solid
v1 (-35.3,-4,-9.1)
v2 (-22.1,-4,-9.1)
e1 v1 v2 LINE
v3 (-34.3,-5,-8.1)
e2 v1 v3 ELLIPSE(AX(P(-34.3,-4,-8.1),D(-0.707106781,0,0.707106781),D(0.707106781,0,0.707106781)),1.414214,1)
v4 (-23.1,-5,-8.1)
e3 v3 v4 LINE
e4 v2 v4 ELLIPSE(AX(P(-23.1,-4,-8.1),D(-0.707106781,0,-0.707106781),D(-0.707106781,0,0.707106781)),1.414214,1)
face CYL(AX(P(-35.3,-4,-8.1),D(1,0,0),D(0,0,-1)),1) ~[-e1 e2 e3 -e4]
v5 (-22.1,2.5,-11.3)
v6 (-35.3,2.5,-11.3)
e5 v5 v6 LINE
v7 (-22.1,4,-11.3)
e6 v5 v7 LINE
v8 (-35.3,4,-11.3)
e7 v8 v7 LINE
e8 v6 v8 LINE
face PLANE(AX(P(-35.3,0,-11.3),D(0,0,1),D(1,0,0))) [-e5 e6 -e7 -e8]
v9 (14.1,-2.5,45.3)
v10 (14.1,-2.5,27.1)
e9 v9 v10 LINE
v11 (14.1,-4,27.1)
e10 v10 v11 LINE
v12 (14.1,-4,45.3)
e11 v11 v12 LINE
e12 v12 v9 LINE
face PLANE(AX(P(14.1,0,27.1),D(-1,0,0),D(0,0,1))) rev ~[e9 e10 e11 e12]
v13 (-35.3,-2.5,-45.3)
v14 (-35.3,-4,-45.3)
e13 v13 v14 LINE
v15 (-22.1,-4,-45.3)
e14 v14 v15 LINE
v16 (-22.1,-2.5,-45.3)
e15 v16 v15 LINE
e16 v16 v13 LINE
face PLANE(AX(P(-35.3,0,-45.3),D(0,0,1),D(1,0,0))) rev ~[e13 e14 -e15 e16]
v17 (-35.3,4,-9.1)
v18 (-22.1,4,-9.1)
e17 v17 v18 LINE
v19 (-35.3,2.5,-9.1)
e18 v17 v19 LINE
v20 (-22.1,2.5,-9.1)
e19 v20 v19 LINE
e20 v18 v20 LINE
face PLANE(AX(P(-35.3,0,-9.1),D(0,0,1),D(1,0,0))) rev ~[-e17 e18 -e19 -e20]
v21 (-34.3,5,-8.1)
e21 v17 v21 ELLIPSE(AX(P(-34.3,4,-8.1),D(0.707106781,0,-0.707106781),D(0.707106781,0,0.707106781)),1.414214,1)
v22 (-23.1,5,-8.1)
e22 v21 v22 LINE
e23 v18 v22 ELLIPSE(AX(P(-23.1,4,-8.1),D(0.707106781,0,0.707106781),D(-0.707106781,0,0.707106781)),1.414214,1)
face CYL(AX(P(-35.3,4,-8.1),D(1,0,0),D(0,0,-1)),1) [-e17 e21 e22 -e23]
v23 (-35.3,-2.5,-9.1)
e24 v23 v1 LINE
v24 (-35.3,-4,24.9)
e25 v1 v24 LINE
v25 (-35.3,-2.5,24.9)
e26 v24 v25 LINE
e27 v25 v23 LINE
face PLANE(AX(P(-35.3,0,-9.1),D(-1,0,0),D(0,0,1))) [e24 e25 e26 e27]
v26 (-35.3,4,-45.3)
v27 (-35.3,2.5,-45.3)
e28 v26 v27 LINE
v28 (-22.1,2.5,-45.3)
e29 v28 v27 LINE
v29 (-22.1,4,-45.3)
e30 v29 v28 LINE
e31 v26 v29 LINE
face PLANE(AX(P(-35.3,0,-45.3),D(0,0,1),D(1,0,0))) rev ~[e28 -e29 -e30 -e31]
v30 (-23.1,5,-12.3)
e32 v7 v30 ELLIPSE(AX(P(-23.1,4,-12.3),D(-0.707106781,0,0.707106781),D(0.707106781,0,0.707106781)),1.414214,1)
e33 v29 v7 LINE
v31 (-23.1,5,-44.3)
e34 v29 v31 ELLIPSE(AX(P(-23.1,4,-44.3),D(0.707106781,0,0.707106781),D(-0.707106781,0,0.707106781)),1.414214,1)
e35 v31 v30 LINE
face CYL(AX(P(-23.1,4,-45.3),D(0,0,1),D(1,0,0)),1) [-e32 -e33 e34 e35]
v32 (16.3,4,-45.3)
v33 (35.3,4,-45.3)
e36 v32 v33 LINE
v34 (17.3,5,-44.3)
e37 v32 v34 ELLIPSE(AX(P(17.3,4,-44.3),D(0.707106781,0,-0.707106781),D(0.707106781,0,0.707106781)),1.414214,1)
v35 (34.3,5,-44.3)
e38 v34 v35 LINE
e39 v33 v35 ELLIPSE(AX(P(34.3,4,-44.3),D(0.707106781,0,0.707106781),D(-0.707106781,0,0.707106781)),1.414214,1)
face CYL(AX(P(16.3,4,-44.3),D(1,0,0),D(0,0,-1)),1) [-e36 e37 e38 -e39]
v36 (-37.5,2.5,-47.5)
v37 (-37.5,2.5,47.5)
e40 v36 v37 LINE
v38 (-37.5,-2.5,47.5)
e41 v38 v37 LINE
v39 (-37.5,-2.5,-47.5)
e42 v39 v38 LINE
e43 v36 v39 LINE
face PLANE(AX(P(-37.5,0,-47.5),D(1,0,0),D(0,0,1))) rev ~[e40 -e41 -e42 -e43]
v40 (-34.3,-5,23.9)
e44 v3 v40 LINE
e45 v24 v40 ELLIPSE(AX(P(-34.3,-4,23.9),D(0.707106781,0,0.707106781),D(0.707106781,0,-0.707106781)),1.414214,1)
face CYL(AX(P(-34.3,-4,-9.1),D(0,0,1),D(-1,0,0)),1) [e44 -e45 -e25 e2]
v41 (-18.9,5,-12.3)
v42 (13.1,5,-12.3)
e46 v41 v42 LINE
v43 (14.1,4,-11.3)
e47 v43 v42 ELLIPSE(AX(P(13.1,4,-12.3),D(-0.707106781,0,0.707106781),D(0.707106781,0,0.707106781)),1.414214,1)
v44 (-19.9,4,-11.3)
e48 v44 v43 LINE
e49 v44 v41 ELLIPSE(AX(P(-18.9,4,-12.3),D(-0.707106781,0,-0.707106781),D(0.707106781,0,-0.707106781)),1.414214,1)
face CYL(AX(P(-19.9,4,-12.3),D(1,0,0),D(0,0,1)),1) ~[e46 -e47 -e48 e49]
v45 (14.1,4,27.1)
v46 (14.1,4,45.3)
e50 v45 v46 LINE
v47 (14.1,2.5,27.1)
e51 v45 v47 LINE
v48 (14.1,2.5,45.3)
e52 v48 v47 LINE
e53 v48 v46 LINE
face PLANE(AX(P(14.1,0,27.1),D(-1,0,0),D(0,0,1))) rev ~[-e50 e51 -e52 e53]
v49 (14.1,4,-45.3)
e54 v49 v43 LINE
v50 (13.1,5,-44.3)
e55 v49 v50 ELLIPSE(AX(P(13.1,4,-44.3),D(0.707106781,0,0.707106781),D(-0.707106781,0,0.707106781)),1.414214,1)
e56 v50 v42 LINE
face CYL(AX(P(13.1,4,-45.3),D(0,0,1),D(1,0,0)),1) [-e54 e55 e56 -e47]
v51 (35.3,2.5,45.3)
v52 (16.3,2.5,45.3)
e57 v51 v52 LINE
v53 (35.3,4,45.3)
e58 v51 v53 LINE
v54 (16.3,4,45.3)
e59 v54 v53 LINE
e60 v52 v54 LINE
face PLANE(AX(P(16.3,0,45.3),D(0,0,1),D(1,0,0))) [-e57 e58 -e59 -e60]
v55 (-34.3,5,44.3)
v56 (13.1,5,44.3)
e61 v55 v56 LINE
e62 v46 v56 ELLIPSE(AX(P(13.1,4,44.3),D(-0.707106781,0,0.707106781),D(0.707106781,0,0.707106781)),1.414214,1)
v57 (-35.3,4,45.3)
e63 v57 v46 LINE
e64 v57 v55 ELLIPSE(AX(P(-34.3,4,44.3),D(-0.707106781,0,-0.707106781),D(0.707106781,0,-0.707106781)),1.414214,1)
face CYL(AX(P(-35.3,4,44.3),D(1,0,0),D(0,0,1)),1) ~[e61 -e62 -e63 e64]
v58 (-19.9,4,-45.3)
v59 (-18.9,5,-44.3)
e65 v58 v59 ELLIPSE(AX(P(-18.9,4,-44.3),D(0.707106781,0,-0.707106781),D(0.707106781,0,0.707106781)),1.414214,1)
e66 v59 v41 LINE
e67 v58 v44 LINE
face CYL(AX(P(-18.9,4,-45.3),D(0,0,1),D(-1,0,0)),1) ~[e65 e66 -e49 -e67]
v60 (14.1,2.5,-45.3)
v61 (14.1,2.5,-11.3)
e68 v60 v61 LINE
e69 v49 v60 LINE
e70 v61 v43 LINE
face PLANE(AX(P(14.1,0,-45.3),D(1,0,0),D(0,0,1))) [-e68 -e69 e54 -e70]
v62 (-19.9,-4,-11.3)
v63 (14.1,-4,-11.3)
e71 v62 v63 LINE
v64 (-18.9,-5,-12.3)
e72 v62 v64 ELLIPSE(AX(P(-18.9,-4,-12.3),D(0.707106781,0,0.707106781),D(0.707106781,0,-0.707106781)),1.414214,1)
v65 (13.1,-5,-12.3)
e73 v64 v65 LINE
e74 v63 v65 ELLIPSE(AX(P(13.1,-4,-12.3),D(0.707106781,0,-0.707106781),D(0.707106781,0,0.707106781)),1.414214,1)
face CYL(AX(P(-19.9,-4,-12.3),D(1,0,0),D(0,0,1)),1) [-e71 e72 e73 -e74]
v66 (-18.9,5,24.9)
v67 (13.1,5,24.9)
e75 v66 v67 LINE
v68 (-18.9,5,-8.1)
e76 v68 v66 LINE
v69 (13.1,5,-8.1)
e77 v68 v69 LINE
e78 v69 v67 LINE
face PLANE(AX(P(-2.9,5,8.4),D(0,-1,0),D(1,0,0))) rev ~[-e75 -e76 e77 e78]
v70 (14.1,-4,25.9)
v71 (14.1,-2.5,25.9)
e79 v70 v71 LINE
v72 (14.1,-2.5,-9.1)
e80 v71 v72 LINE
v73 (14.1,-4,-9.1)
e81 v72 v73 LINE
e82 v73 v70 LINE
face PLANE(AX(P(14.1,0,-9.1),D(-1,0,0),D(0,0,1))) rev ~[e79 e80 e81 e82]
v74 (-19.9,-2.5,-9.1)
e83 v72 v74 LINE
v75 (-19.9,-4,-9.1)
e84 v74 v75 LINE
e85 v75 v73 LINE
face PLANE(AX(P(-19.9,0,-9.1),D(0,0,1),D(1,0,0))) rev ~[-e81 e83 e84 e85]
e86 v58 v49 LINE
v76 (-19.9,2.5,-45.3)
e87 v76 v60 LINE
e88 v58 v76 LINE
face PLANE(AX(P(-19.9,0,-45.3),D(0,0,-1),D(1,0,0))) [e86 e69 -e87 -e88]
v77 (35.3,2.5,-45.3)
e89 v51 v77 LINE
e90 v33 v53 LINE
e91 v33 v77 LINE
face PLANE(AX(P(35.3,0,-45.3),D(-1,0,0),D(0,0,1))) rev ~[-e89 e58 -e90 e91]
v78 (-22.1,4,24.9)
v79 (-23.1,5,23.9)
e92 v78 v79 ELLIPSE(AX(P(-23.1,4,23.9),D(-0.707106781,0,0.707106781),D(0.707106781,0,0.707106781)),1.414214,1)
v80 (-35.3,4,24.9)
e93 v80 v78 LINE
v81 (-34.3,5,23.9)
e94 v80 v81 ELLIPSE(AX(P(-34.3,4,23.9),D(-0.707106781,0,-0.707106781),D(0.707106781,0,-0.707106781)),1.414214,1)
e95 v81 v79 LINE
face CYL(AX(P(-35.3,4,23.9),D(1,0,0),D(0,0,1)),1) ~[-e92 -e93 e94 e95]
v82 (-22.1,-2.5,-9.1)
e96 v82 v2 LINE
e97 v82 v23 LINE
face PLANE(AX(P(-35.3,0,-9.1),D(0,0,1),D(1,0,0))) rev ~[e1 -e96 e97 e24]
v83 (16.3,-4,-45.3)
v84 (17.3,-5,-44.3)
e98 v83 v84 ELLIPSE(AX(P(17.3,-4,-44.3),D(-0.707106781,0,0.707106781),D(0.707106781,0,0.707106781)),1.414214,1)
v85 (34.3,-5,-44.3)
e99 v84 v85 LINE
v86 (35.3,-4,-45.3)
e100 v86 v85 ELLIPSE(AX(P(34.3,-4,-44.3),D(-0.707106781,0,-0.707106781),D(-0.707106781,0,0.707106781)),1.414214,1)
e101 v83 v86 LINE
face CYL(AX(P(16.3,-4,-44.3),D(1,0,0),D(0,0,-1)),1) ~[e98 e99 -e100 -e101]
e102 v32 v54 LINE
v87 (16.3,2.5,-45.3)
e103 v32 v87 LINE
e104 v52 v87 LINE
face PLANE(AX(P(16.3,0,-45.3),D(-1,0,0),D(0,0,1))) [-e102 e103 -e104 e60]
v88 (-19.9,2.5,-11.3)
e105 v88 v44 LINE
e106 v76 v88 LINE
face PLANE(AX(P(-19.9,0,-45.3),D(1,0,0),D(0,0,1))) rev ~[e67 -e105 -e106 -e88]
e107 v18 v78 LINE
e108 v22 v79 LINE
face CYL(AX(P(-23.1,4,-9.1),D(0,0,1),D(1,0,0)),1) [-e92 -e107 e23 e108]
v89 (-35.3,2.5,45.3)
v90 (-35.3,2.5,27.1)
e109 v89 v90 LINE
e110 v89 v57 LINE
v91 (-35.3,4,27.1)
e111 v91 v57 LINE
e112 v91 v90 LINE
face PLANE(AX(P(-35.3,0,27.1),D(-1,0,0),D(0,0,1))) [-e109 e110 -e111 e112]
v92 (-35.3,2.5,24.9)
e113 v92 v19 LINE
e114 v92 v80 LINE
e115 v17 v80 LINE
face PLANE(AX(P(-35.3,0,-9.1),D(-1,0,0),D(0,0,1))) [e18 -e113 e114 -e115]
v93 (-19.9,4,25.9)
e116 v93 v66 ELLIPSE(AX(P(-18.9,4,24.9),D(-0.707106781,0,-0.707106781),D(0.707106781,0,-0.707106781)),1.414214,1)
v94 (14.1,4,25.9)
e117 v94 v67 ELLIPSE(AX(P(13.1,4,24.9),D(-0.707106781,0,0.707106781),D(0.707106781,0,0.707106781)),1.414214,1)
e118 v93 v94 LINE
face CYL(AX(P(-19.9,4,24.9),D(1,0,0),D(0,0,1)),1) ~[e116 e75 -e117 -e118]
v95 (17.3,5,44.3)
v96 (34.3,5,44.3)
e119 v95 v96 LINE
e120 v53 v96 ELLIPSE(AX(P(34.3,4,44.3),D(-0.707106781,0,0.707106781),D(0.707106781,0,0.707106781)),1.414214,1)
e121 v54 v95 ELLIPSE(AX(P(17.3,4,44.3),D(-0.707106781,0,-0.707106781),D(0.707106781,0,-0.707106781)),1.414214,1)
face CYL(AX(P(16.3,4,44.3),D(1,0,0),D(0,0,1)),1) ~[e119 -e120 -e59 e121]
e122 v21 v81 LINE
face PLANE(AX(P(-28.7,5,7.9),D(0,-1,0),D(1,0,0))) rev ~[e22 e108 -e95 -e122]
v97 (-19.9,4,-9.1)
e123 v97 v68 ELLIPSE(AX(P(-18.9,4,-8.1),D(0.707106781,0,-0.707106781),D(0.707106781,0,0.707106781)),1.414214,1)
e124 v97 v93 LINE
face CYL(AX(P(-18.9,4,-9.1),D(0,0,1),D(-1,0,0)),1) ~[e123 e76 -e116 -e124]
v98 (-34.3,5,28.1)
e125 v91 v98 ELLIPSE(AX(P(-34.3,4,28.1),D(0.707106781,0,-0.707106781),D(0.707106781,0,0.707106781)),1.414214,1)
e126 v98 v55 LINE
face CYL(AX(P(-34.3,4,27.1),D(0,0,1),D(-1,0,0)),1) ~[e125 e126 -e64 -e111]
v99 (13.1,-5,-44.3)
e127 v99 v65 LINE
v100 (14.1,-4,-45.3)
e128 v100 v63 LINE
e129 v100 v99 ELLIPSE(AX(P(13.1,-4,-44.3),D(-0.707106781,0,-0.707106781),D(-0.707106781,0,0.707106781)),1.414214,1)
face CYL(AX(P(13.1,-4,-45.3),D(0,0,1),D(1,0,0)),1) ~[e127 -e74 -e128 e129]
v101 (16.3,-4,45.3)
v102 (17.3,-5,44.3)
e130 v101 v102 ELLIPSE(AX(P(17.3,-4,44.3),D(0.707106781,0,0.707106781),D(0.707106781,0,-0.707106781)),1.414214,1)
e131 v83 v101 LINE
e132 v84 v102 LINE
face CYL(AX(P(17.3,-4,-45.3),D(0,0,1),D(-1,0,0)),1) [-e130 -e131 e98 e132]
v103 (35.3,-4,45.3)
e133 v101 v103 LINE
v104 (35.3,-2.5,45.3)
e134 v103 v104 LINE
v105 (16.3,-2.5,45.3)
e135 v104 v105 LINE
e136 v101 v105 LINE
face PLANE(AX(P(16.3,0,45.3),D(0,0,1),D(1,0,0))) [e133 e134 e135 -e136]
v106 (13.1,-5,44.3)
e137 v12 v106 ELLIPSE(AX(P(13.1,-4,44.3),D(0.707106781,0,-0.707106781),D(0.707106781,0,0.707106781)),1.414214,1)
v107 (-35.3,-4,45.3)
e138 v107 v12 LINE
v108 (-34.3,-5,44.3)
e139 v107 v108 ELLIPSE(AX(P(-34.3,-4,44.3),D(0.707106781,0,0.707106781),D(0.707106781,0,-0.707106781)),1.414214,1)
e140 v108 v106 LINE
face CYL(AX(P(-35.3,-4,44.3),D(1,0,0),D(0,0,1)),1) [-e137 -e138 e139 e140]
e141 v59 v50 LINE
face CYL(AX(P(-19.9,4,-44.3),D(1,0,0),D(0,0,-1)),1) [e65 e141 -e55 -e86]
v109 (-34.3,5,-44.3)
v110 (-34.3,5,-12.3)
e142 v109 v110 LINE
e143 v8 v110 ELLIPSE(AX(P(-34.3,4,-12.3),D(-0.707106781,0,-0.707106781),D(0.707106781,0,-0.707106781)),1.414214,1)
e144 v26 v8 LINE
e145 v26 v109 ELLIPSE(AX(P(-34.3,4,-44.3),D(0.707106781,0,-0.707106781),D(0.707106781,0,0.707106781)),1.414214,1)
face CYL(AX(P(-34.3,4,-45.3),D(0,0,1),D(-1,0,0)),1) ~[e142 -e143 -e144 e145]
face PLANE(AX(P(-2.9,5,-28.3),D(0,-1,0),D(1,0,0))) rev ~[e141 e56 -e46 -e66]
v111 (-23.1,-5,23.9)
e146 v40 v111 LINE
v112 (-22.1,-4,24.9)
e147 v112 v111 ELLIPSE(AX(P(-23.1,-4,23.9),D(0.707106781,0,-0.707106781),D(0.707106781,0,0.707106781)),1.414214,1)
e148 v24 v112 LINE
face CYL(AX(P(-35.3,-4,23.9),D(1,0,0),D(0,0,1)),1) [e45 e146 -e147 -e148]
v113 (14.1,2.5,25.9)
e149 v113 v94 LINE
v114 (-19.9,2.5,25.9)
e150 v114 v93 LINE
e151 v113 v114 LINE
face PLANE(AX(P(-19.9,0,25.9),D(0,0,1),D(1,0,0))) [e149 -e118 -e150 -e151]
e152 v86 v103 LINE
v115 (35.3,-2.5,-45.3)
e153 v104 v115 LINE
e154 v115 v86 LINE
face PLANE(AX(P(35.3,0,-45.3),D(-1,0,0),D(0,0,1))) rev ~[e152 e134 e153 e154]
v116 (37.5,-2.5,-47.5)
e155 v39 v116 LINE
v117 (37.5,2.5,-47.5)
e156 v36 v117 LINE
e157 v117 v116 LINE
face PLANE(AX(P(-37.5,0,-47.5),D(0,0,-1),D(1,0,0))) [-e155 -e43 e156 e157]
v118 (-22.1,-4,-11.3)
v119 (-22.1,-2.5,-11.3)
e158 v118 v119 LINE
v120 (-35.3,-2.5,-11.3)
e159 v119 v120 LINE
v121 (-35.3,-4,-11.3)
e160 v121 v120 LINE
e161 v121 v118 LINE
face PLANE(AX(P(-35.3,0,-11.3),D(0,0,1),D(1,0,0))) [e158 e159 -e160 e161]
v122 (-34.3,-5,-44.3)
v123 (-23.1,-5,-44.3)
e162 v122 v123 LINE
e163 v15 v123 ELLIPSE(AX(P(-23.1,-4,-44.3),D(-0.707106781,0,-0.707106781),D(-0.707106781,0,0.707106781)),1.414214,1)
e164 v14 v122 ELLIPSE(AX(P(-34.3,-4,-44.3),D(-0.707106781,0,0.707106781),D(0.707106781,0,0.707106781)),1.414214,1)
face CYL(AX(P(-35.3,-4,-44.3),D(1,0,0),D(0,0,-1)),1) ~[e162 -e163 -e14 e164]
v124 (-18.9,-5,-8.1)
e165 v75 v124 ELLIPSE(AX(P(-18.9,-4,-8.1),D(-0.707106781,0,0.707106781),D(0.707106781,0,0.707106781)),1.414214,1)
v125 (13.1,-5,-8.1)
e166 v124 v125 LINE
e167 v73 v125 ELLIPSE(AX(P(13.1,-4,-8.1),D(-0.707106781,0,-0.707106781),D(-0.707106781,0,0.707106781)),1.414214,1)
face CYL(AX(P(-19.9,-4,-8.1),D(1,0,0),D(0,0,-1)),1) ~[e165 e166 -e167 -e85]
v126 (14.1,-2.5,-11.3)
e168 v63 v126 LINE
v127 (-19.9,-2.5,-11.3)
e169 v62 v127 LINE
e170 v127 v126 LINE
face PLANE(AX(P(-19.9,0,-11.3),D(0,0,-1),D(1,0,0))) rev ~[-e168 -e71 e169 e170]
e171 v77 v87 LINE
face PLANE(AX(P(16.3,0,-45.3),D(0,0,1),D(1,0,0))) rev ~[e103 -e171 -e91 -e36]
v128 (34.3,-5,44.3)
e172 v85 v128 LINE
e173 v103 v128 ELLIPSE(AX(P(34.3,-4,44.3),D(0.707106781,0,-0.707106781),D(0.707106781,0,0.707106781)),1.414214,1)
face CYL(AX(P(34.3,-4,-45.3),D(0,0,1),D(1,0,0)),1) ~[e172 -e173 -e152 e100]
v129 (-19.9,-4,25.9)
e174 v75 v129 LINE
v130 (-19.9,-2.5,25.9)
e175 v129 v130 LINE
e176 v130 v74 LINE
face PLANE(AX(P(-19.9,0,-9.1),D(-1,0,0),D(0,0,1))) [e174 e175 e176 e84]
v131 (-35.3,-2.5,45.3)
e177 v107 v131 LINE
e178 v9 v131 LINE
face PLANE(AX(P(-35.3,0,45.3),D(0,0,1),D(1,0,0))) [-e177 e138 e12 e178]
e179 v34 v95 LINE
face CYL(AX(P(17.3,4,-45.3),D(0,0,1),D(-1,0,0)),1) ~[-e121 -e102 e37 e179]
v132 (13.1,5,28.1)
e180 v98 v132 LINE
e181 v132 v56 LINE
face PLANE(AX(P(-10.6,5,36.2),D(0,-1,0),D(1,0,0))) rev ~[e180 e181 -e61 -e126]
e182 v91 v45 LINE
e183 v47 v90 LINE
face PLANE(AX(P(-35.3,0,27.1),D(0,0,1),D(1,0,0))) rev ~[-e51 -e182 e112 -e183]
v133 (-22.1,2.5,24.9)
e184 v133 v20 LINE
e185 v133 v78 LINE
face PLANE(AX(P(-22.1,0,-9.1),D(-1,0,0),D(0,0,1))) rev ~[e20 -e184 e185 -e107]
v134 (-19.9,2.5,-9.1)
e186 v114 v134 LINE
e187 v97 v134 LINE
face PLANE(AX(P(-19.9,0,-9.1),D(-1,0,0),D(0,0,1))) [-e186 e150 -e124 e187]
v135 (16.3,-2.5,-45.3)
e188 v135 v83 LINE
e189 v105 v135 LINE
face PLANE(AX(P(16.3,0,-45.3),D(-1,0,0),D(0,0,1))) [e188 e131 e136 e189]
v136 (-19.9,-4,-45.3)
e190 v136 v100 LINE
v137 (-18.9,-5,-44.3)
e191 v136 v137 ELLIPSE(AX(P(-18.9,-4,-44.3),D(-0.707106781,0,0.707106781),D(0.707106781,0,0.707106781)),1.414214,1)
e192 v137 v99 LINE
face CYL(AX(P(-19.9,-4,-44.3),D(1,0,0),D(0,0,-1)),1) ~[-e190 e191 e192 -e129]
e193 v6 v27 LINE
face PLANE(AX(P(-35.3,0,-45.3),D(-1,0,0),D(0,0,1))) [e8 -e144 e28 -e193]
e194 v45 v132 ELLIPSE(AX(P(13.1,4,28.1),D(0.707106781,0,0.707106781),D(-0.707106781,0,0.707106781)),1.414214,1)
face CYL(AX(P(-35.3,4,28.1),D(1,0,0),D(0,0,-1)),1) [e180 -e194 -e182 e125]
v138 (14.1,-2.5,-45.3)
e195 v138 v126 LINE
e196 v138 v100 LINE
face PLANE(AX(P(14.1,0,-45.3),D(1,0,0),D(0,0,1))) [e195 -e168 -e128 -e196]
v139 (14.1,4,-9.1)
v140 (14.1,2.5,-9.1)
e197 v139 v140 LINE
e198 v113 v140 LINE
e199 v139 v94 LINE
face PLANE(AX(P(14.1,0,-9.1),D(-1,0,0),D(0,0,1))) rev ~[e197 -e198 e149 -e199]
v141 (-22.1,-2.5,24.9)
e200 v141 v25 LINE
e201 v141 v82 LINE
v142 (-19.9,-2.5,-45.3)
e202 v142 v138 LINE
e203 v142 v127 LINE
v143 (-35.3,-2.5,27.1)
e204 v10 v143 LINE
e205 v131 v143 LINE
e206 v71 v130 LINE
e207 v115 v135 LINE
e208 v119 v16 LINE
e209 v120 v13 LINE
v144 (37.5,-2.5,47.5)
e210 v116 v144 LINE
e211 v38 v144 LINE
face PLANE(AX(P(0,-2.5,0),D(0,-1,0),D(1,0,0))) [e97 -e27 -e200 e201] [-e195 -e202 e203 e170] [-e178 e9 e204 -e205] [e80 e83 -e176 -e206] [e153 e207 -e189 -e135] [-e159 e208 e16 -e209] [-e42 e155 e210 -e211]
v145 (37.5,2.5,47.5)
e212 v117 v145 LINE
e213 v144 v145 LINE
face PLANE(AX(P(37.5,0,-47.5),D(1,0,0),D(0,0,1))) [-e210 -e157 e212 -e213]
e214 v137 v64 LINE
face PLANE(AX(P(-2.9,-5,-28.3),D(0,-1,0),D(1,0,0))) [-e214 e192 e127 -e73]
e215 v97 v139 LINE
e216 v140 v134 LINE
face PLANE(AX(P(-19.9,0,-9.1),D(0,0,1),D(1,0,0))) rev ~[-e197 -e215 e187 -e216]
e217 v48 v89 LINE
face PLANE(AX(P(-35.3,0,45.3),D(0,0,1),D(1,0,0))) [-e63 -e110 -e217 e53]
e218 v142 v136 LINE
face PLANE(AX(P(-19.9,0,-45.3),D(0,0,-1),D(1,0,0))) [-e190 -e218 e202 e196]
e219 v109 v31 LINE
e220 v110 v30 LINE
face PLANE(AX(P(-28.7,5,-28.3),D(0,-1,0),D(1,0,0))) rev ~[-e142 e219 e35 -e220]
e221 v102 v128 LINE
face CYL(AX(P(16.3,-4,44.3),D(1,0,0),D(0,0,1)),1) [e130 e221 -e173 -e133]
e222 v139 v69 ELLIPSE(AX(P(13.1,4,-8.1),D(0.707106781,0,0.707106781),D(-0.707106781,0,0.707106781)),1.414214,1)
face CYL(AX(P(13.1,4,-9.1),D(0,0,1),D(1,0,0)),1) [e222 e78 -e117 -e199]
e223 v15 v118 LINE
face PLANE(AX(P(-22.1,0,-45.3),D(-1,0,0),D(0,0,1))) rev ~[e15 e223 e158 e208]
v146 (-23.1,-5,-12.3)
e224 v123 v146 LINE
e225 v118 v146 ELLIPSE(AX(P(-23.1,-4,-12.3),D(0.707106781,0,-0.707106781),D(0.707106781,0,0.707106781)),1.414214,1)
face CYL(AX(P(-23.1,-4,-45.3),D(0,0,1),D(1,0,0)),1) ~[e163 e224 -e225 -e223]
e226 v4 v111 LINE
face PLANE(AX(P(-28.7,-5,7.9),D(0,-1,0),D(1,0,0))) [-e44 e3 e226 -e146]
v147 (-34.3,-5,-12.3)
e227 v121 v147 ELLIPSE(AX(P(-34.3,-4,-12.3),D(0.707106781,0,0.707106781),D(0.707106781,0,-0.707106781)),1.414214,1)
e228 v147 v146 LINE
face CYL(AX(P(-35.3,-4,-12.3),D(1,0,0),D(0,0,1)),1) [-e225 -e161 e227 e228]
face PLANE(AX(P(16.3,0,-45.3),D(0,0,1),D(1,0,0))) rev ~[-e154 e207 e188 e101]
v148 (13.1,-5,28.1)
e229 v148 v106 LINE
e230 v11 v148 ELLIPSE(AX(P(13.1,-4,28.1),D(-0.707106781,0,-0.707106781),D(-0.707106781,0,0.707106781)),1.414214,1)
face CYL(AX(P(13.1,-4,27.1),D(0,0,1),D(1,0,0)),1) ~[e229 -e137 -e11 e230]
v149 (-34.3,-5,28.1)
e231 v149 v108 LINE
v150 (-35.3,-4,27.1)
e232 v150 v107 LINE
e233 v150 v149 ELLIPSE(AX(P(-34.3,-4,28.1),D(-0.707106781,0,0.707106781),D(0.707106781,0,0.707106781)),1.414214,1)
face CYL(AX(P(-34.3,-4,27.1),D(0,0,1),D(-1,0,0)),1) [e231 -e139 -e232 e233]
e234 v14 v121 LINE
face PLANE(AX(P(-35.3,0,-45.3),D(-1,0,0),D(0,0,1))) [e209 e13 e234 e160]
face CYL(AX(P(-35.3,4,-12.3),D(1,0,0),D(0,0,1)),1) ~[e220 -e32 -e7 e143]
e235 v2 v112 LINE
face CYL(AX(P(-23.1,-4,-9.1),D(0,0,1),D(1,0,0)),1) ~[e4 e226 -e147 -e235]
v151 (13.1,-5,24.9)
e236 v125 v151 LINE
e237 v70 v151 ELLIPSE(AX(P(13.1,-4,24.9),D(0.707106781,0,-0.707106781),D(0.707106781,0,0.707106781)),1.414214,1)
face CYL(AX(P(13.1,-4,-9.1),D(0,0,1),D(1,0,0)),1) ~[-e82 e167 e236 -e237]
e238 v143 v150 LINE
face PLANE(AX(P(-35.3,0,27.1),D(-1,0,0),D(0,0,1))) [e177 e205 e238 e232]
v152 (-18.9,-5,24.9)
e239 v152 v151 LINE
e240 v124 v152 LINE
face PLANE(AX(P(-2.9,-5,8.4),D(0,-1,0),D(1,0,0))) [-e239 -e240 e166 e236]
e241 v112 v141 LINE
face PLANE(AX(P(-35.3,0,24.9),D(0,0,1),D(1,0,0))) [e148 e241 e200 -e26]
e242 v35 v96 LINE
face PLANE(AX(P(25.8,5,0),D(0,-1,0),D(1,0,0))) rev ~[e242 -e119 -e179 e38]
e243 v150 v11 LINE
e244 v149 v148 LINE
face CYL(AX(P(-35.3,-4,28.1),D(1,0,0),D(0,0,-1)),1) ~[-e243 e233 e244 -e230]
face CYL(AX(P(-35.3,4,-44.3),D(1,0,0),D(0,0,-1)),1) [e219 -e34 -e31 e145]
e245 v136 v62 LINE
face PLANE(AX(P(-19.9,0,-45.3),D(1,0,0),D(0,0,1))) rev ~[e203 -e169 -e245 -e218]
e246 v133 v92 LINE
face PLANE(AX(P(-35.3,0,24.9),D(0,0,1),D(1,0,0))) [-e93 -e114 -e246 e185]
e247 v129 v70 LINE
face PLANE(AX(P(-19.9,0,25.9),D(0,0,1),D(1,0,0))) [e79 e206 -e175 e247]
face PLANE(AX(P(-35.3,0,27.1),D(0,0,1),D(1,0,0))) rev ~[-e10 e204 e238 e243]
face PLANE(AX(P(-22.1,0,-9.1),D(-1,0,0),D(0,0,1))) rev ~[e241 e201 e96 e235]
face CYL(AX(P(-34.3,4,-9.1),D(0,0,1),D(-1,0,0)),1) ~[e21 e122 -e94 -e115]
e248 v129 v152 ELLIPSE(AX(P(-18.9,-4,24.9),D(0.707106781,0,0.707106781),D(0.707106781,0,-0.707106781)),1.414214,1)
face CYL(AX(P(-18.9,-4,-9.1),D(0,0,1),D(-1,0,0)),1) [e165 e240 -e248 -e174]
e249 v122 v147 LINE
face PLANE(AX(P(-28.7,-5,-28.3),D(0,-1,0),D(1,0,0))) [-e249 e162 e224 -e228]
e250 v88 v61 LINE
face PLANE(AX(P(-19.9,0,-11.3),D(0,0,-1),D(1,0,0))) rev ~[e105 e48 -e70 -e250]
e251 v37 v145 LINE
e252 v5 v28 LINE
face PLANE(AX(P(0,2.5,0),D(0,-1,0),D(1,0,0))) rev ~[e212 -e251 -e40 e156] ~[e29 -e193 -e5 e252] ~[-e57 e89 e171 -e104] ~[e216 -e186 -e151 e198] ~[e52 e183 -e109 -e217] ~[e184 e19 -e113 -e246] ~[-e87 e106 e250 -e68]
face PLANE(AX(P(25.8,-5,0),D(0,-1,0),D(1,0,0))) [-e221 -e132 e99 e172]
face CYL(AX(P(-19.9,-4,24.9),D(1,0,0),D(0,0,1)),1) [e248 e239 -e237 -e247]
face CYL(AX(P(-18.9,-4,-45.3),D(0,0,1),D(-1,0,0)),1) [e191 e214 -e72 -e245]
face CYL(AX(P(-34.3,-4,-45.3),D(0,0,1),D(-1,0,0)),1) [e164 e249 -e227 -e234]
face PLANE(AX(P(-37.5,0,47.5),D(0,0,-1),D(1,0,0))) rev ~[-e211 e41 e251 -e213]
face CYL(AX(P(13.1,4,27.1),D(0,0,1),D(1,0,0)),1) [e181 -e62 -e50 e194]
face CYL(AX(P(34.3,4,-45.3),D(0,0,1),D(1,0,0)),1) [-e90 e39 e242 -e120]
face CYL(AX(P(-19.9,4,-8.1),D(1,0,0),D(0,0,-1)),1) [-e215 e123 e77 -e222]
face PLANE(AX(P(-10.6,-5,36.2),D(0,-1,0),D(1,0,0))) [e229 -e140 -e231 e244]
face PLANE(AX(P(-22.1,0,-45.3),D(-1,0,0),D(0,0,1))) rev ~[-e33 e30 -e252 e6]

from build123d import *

# Parameters (mm, degrees)
SKETCH014_W   = 75
SKETCH014_H   = 95
PAD009_DEPTH  = 2.5
SKETCH013_W   = 49.4
SKETCH013_H   = 18.2
SKETCH013_W_2 = 19
SKETCH013_H_2 = 90.6
SKETCH013_W_3 = 13.2
SKETCH013_H_3 = 34
SKETCH013_W_4 = 34
SKETCH013_H_4 = 35
PAD010_DEPTH  = 5
FILLET006_R   = 1
FILLET007_R   = 1


with BuildPart() as part:
    # Sketch014 → Pad009 (new body, symmetric)
    with BuildSketch(Plane.XZ):
        Rectangle(SKETCH014_W, SKETCH014_H)
    extrude(amount=PAD009_DEPTH, both=True)

    # Sketch013 → Pad010 (join, symmetric)
    with BuildSketch(Plane.XZ):
        with Locations((-10.6, 36.2)):
            Rectangle(SKETCH013_W, SKETCH013_H)
        with Locations((25.8, 0)):
            Rectangle(SKETCH013_W_2, SKETCH013_H_2)
        with Locations((-28.7, 7.9)):
            Rectangle(SKETCH013_W_3, SKETCH013_H_3)
        with Locations((-28.7, -28.3)):
            Rectangle(SKETCH013_W_3, SKETCH013_H_3)
        with Locations((-2.9, 8.4)):
            Rectangle(SKETCH013_W_4, SKETCH013_H_4)
        with Locations((-2.9, -28.3)):
            Rectangle(SKETCH013_W_4, SKETCH013_H_3)
    extrude(amount=PAD010_DEPTH, both=True)

    # Fillet006
    fillet006_edges = [part.edges().sort_by_distance(p)[0] for p in [
        (-10.6, -5, 45.3),
        (14.1, -5, 36.2),
        (-10.6, -5, 27.1),
        (-35.3, -5, 36.2),
        (-28.7, -5, 24.9),
        (-22.1, -5, 7.9),
        (-28.7, -5, -9.1),
        (-35.3, -5, 7.9),
        (-2.9, -5, 25.9),
        (14.1, -5, 8.4),
        (-2.9, -5, -9.1),
        (-19.9, -5, 8.4),
        (-28.7, -5, -11.3),
        (-22.1, -5, -28.3),
        (-28.7, -5, -45.3),
        (-35.3, -5, -28.3),
        (-2.9, -5, -11.3),
        (14.1, -5, -28.3),
        (-2.9, -5, -45.3),
        (-19.9, -5, -28.3),
        (25.8, -5, 45.3),
        (35.3, -5, 0),
        (25.8, -5, -45.3),
        (16.3, -5, 0),
    ]]
    fillet(fillet006_edges, radius=FILLET006_R)

    # Fillet007
    fillet007_edges = [part.edges().sort_by_distance(p)[0] for p in [
        (-10.6, 5, 45.3),
        (14.1, 5, 36.2),
        (-10.6, 5, 27.1),
        (-35.3, 5, 36.2),
        (-28.7, 5, 24.9),
        (-22.1, 5, 7.9),
        (-28.7, 5, -9.1),
        (-35.3, 5, 7.9),
        (-2.9, 5, 25.9),
        (14.1, 5, 8.4),
        (-2.9, 5, -9.1),
        (-19.9, 5, 8.4),
        (-28.7, 5, -11.3),
        (-22.1, 5, -28.3),
        (-28.7, 5, -45.3),
        (-35.3, 5, -28.3),
        (-2.9, 5, -11.3),
        (14.1, 5, -28.3),
        (-2.9, 5, -45.3),
        (-19.9, 5, -28.3),
        (25.8, 5, 45.3),
        (35.3, 5, 0),
        (25.8, 5, -45.3),
        (16.3, 5, 0),
    ]]
    fillet(fillet007_edges, radius=FILLET007_R)


solid = part.part
